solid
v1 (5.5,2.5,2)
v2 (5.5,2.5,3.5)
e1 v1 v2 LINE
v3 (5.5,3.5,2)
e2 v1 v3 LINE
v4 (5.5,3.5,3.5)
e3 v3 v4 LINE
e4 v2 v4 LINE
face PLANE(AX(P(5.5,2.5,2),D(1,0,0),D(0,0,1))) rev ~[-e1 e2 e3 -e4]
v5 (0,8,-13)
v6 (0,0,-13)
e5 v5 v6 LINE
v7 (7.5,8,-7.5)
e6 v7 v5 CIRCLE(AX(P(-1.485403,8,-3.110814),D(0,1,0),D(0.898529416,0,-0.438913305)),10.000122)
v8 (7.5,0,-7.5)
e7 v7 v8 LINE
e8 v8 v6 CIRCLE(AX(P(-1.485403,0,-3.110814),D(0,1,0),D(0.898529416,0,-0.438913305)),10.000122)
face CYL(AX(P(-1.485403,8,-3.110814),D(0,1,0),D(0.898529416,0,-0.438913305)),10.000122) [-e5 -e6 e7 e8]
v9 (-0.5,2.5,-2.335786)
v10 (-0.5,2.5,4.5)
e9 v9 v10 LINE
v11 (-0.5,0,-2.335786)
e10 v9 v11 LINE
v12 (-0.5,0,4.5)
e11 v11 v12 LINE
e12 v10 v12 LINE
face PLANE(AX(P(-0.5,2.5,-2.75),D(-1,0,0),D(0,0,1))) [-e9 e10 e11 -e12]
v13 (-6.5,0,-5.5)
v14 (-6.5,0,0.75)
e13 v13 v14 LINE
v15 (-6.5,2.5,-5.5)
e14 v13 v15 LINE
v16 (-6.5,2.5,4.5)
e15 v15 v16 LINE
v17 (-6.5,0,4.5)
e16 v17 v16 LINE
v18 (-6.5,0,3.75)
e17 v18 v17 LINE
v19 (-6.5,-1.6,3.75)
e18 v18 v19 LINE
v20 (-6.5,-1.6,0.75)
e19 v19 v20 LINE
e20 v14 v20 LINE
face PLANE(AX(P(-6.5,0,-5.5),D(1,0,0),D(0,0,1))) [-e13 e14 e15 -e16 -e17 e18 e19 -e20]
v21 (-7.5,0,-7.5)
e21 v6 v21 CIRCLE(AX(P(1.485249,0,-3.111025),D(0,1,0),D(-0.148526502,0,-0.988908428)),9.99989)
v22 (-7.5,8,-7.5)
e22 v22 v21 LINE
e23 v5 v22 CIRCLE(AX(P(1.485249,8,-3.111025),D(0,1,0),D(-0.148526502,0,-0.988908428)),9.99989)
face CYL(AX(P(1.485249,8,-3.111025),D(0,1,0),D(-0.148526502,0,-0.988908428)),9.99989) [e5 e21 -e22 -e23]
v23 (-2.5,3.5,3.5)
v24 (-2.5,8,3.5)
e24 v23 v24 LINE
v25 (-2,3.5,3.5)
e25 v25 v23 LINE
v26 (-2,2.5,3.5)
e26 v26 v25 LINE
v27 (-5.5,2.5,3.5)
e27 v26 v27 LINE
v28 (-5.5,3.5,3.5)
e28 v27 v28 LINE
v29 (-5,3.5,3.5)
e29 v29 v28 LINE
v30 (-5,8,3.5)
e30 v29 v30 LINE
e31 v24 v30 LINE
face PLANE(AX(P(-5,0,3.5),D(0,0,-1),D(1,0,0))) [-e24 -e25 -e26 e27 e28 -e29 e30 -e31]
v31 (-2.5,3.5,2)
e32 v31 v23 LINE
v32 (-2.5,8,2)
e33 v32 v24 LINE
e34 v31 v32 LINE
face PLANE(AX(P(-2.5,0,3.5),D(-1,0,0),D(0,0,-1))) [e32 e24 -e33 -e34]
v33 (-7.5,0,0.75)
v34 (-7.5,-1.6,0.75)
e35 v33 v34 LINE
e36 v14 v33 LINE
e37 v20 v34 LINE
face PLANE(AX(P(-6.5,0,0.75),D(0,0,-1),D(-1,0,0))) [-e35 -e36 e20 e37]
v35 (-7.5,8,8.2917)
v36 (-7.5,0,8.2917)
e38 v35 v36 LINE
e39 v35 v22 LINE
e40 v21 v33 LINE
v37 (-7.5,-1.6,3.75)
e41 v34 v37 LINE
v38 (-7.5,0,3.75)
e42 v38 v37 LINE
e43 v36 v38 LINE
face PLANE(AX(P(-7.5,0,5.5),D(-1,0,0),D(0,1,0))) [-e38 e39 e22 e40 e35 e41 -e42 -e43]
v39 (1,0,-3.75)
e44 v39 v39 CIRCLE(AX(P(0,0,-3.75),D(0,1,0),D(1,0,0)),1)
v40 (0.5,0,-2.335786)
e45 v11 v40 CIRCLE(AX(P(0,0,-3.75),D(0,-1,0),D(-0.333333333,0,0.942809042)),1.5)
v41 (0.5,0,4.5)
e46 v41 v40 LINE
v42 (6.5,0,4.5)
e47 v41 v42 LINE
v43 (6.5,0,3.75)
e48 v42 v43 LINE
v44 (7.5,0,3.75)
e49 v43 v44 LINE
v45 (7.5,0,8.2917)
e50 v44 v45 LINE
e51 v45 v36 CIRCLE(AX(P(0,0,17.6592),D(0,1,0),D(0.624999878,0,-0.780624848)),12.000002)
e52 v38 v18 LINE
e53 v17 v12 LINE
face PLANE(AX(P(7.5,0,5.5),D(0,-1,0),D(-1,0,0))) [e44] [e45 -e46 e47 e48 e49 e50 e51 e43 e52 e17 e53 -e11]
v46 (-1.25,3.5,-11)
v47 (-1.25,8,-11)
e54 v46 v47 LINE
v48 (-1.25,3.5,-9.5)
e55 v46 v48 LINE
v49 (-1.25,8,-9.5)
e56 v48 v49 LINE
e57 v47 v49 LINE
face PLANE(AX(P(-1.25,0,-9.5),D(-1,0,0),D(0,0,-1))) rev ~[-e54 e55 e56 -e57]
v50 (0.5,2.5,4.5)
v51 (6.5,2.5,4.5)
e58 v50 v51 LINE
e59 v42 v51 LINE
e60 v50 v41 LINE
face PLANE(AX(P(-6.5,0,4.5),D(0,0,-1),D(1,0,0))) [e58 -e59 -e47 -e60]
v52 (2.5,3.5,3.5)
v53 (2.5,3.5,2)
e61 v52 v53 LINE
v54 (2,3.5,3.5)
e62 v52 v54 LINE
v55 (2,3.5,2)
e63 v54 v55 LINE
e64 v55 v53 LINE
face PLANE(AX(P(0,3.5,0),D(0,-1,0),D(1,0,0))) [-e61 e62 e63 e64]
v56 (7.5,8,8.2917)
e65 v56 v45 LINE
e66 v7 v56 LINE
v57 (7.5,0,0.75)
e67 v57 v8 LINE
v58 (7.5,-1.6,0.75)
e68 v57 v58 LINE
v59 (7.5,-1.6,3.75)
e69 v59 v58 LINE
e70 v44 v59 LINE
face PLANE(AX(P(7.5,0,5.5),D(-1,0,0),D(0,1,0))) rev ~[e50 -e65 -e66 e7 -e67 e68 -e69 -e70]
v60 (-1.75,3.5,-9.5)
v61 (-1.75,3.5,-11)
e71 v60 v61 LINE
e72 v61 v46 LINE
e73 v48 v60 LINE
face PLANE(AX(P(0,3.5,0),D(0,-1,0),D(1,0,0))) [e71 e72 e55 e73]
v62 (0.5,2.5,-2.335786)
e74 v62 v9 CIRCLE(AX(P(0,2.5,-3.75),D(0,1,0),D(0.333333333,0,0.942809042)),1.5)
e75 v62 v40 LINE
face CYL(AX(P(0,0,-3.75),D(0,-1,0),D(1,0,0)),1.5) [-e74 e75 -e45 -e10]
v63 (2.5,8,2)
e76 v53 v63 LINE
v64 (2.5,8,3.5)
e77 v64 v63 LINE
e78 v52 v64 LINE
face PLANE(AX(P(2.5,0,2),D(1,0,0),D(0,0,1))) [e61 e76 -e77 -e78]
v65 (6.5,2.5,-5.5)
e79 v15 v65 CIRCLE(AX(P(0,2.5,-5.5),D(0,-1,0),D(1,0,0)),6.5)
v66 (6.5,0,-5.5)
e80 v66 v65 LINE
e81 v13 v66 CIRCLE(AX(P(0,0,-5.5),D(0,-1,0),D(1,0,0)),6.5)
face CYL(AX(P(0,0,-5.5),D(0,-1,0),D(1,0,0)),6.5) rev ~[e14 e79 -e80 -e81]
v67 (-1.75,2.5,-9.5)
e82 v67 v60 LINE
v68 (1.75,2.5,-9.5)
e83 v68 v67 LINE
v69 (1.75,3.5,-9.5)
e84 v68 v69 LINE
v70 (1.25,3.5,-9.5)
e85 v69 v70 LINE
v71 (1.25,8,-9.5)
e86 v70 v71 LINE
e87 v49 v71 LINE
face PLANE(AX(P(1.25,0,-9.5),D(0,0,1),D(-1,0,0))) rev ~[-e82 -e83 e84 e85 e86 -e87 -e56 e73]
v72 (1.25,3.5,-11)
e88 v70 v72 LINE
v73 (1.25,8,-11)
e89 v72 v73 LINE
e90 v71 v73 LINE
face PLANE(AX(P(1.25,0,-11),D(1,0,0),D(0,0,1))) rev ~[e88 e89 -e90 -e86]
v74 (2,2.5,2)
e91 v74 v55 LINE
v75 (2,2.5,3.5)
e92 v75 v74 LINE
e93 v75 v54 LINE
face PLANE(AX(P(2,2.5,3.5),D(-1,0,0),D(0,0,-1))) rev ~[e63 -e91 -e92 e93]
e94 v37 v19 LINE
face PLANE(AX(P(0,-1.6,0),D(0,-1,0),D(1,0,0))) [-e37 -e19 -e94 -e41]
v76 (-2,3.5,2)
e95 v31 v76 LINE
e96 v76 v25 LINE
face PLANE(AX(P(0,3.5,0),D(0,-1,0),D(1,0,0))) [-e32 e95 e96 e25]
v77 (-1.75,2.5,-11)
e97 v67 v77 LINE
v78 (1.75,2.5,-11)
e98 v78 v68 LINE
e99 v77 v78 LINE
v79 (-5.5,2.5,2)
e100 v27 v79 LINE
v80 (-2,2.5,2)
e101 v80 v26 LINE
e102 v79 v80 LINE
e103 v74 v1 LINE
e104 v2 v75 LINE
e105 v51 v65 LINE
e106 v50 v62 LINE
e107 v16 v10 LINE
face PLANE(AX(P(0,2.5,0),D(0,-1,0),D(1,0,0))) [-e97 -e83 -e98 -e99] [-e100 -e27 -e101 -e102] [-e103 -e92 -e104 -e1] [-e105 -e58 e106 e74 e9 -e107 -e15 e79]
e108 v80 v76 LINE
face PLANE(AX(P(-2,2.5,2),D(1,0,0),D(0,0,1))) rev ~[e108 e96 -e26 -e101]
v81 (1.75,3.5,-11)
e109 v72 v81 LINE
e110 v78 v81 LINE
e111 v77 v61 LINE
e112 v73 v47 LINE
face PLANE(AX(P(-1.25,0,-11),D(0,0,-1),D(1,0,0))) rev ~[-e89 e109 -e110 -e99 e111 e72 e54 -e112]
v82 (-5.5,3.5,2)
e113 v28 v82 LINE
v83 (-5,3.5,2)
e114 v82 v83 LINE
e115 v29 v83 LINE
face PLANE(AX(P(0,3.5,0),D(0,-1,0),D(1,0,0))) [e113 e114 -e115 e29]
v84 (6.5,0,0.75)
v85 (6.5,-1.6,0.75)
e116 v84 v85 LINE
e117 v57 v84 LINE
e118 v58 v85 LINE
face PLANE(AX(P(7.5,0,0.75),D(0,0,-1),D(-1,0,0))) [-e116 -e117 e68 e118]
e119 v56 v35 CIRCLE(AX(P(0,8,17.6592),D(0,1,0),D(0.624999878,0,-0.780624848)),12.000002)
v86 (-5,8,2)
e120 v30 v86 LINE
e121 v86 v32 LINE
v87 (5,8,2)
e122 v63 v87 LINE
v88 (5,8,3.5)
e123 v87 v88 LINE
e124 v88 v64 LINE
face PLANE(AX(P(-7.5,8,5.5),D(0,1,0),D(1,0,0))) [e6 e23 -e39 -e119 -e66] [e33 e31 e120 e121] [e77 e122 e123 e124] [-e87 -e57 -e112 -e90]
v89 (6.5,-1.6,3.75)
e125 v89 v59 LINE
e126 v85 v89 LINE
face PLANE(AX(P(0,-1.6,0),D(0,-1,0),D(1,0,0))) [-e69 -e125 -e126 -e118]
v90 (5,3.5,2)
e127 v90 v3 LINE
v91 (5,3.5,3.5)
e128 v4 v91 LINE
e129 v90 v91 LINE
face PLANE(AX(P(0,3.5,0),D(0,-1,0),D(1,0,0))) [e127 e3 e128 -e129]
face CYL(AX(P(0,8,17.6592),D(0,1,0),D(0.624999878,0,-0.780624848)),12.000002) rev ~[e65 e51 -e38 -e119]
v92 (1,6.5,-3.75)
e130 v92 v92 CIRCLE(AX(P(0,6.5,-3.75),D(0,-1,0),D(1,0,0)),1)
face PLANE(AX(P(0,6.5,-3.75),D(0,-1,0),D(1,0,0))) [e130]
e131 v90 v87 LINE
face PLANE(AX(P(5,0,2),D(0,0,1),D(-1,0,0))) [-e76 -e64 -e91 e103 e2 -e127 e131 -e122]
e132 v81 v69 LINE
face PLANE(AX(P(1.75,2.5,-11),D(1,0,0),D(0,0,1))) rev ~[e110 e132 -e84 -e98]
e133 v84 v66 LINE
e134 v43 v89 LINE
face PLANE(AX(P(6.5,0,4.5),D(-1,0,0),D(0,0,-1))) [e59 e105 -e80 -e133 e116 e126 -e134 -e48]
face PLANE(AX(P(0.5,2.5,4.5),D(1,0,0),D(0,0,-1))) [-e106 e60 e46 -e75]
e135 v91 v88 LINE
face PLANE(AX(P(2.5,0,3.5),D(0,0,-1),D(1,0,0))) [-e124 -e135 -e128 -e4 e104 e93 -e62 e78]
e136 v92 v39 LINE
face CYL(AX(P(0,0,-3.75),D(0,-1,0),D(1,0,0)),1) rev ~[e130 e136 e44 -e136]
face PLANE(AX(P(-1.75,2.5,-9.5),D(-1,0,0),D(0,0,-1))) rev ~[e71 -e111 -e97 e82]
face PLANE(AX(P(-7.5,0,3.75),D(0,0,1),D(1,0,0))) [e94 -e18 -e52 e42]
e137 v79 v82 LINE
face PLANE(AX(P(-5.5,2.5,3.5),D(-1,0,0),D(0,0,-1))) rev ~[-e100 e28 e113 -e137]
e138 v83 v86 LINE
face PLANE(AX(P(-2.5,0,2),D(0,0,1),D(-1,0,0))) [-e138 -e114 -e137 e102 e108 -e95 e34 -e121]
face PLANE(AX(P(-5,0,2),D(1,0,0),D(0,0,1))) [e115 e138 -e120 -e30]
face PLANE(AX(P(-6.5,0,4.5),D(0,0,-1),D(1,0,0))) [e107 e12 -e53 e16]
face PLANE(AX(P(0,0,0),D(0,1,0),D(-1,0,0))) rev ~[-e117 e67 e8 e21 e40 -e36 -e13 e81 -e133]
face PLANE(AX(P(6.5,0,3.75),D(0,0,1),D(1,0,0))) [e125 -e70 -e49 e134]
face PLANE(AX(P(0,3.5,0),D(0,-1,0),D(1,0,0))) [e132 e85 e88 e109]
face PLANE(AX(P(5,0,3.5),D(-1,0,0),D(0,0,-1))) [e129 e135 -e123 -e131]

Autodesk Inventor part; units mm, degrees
ref_plane "YZ Plane" through (0, 0, 0) normal (1, 0, 0) x (0, 1, 0)
ref_plane "XZ Plane" through (0, 0, 0) normal (0, 1, 0) x (-1, 0, 0)
ref_plane "XY Plane" through (0, 0, 0) normal (0, 0, 1) x (1, 0, 0)
sketch "Sketch1" plane through (0, 0, 0) normal (0, 1, 0) x (-1, 0, 0)
  line L0 (-7.5, 5.5) -> (7.5, 5.5)
  line L1 (7.5, 5.5) -> (7.5, -5.5)
  line L2 (7.5, -5.5) -> (-7.5, -5.5)
  line L3 (-7.5, -5.5) -> (-7.5, 5.5)
  line L4 (-7.5, 5.5) -> (7.5, -5.5) construction
  line L5 (7.5, 5.5) -> (-7.5, -5.5) construction
  circle A0 centre (0, -5.5) radius 7.5 construction
  arc A1 (-7.5, -5.5) -> (7.5, -5.5) centre (0, -5.5) ccw
  point P0 (0, 0)
  dimension "d0" = 11
  dimension "d1" = 15
extrude "Extrusion1" add sketch "Sketch1" along normal blind 8
sketch "Sketch2" plane through (0, 0, 0) normal (0, -1, 0) x (1, 0, 0)
  line L0 (7.5, 9.25) -> (-7.5, 9.25)
  line L1 (-7.5, 9.25) -> (-7.5, -20.75)
  line L2 (-7.5, -20.75) -> (7.5, -20.75)
  line L3 (7.5, -20.75) -> (7.5, 9.25)
  line L4 (7.5, 9.25) -> (-7.5, -20.75) construction
  line L5 (-7.5, 9.25) -> (7.5, -20.75) construction
  line L6 (-7.5, 5.5) -> (7.5, 5.5) projected
  line L7 (7, 8.75) -> (-7, 8.75) construction
  line L8 (-7, 8.75) -> (-7, -20.25) construction
  line L9 (-7, -20.25) -> (7, -20.25) construction
  line L10 (7, -20.25) -> (7, 8.75) construction
  line L11 (7, 8.75) -> (-7, -20.25) construction
  line L12 (-7, 8.75) -> (7, -20.25) construction
  point P0 (0, 0)
  point P1 (0, -5.75)
  dimension "d4" = 15
  dimension "d5" = 30
  dimension "d6" = 3.75
  dimension "d18" = 0.5
  dimension "d19" = 0.5
sketch "Sketch4" plane through (0, 0, 0) normal (0, -1, 0) x (1, 0, 0)
  line L0 (-7.5, -5.5) -> (-7.5, 5.5) projected
  line L1 (-7.5, 3.75) -> (-6.5, 3.75)
  line L2 (-6.5, 3.75) -> (-6.5, 0.75)
  line L3 (-6.5, 0.75) -> (-7.5, 0.75)
  line L4 (-7.5, 0.75) -> (-7.5, 3.75)
  line L5 (7.5, 5.5) -> (7.5, -5.5) projected
  line L6 (7.5, 0.75) -> (6.5, 0.75)
  line L7 (6.5, 0.75) -> (6.5, 3.75)
  line L8 (6.5, 3.75) -> (7.5, 3.75)
  line L9 (7.5, 3.75) -> (7.5, 0.75)
  line L10 (-7.5, -20.25) -> (7.5, -20.25) construction
  line L11 (7.5, -20.25) -> (7.5, 9.75) construction
  line L12 (7.5, 9.75) -> (-7.5, 9.75) construction
  line L13 (-7.5, 9.75) -> (-7.5, -20.25) construction
  line L14 (-7.5, -20.25) -> (7.5, 9.75) construction
  line L15 (7.5, -20.25) -> (-7.5, 9.75) construction
  line L16 (-7.5, 5.5) -> (7.5, 5.5) construction
  arc A0 (-7.5, -5.5) -> (7.5, -5.5) centre (0, -5.5) ccw construction
  point P0 (0, 0)
  point P1 (0, -5.25)
  point P2 (0, -13)
  point P3 (-7, 3.75)
  point P4 (-7.5, 0.75)
  point P5 (-7, 0.75)
  point P6 (7.5, 3.75)
  point P7 (-7.5, 0.75)
  dimension "d20" = 1
  dimension "d21" = 3
  dimension "d22" = 1
  dimension "d23" = 3
  dimension "d24" = 15
  dimension "d25" = 30
  dimension "d27" = 7.25
  dimension "d106" = 0.75
extrude "Extrusion3" add sketch "Sketch4" along normal blind 1.6
sketch "Sketch6" plane through (0, 0, 0) normal (0, -1, 0) x (1, 0, 0)
  line L0 (7.5, 11.25) -> (-7.5, 11.25)
  line L1 (-7.5, 11.25) -> (-7.5, -18.75)
  line L2 (-7.5, -18.75) -> (7.5, -18.75)
  line L3 (7.5, -18.75) -> (7.5, 11.25)
  line L4 (7.5, 11.25) -> (-7.5, -18.75) construction
  line L5 (-7.5, 11.25) -> (7.5, -18.75) construction
  line L6 (7, 10.75) -> (-7, 10.75) construction
  line L7 (-7, 10.75) -> (-7, -18.25) construction
  line L8 (-7, -18.25) -> (7, -18.25) construction
  line L9 (7, -18.25) -> (7, 10.75) construction
  line L10 (7, 10.75) -> (-7, -18.25) construction
  line L11 (-7, 10.75) -> (7, -18.25) construction
  circle A0 centre (0, -3.75) radius 1
  circle A1 centre (0, -3.75) radius 1.5
  line L12 (-6.5, 4.5) -> (6.5, 4.5)
  line L13 (6.5, 4.5) -> (6.5, -5.5)
  line L14 (6.5, -5.5) -> (-6.5, -5.5)
  line L15 (-6.5, -5.5) -> (-6.5, 4.5)
  line L16 (-7.5, 5.5) -> (7.5, 5.5) projected
  arc A2 (-7.5, -5.5) -> (7.5, -5.5) centre (0, -5.5) ccw projected
  circle A3 centre (0, -5.5) radius 6.5
  point P0 (0, 0)
  point P1 (-7.5, -3.75)
  point P2 (6.5, -5.5)
  dimension "d31" = 15
  dimension "d32" = 30
  dimension "d34" = 0.5
  dimension "d35" = 0.5
  dimension "d36" = 2
  dimension "d37" = 0.5
  dimension "d38" = 1
  dimension "d39" = 1
  dimension "d40" = 1
  dimension "d41" = 1
  dimension "d107" = 3.75
extrude "Extrusion4" cut sketch "Sketch6" against normal blind 2.5 contours A0 | L12 L13 A3 L15 | A3 L14 | L14 A3
sketch "Sketch10" plane through (0, 8, 0) normal (0, 1, 0) x (1, 0, 0)
  point P0 (0, 0)
sketch "Sketch11" plane through (0, 0, 0) normal (0, -1, 0) x (1, 0, 0)
  line L0 (-5, 3.5) -> (-2.5, 3.5)
  line L1 (-2.5, 3.5) -> (-2.5, 2)
  line L2 (-2.5, 2) -> (-5, 2)
  line L3 (-5, 2) -> (-5, 3.5)
  line L4 (2.5, 3.5) -> (5, 3.5)
  line L5 (5, 3.5) -> (5, 2)
  line L6 (5, 2) -> (2.5, 2)
  line L7 (2.5, 2) -> (2.5, 3.5)
  line L8 (-6.5, 3.75) -> (-7.5, 3.75) projected
  line L9 (-6.5, 0.75) -> (-6.5, 3.75) projected
  line L10 (6.5, 3.75) -> (6.5, 0.75) projected
  line L11 (-6.5, 4.5) -> (6.5, 4.5) projected
  line L12 (-1.25, -11) -> (1.25, -11)
  line L13 (1.25, -11) -> (1.25, -9.5)
  line L14 (1.25, -9.5) -> (-1.25, -9.5)
  line L15 (-1.25, -9.5) -> (-1.25, -11)
  circle A0 centre (0, -3.75) radius 1 projected
  point P0 (0, 0)
  point P1 (-3.75, 3.5)
  point P2 (3.75, 3.5)
  point P3 (1.25, -10.25)
  point P4 (2.5, 2.75)
  point P5 (0, -9.5)
  point P6 (3.75, 2)
  point P7 (-2.5, 2.75)
  dimension "d51" = 2.5
  dimension "d52" = 1.5
  dimension "d55" = 2.75
  dimension "d56" = 2.75
  dimension "d60" = 13
  dimension "d61" = 3.75
  dimension "d62" = 3.75
  dimension "d103" = 6.5
  dimension "d104" = 6.5
extrude "Extrusion8" cut sketch "Sketch11" against normal blind 10 contours L0 L1 L2 L3 | L4 L5 L6 L7 | L15 L14 L13 L12
sketch "Sketch12" plane through (0, 2.5, 0) normal (0, -1, 0) x (1, 0, 0)
  line L0 (5, 2) -> (5, 3.5) construction
  line L1 (2.5, 2) -> (5, 2) construction
  line L2 (5, 3.5) -> (2.5, 3.5) construction
  line L3 (2.5, 3.5) -> (2.5, 2) construction
  line L4 (2.5, 2) -> (5, 2) construction
  line L5 (5, 2) -> (5, 3.5) construction
  line L6 (-2.5, 2) -> (-2.5, 3.5) construction
  line L7 (-2.5, 2) -> (-5, 2) construction
  line L8 (-2.5, 3.5) -> (-5, 3.5) construction
  line L9 (-5, 3.5) -> (-5, 2) construction
  line L10 (-5, 2) -> (-2.5, 2) construction
  line L11 (-2.5, 2) -> (-2.5, 3.5) construction
  line L12 (-1.25, -9.5) -> (1.25, -9.5) construction
  line L13 (-1.25, -9.5) -> (-1.25, -11) construction
  line L14 (1.25, -9.5) -> (-1.25, -9.5) construction
  line L15 (-1.25, -9.5) -> (-1.25, -11) construction
  line L16 (-1.25, -11) -> (1.25, -11) construction
  line L17 (1.25, -11) -> (1.25, -9.5) construction
  line L18 (5.5, 3.5) -> (2, 3.5)
  line L19 (2, 3.5) -> (2, 2)
  line L20 (2, 2) -> (5.5, 2)
  line L21 (5.5, 2) -> (5.5, 3.5)
  line L22 (1.75, -9.5) -> (-1.75, -9.5)
  line L23 (-1.75, -9.5) -> (-1.75, -11)
  line L24 (-1.75, -11) -> (1.75, -11)
  line L25 (1.75, -11) -> (1.75, -9.5)
  line L26 (-2, 3.5) -> (-5.5, 3.5)
  line L27 (-5.5, 3.5) -> (-5.5, 2)
  line L28 (-5.5, 2) -> (-2, 2)
  line L29 (-2, 2) -> (-2, 3.5)
  point P0 (0, 0)
  point P1 (-2.5, 2.75)
  point P2 (-2, 2.75)
  point P3 (-3.75, 2)
  point P4 (-3.75, 2)
  point P5 (-3.75, 3.5)
  point P6 (-3.75, 3.5)
  point P7 (-5, 2.75)
  point P8 (-5.5, 2.75)
  point P9 (1.25, -10.25)
  point P10 (1.75, -10.25)
  point P11 (0, -11)
  point P12 (-1.25, -10.25)
  dimension "d63" = 0.5
  dimension "d64" = 0
  dimension "d65" = 0
  dimension "d67" = 0.5
  dimension "d68" = 0
  dimension "d69" = 0
  dimension "d70" = 0.5
  dimension "d71" = 0.5
  dimension "d72" = 0
  dimension "d73" = 0
  dimension "d74" = 0.5
  dimension "d96" = 0.5
extrude "Extrusion9" cut sketch "Sketch12" against normal blind 1
sketch "Sketch16" plane through (0, 2.5, 0) normal (0, -1, 0) x (1, 0, 0)
  line L0 (-6.5, -5.5) -> (-6.5, 4.5) construction
  line L1 (-6.5, 4.5) -> (6.5, 4.5) construction
  line L2 (-6.5, 4.5) -> (6.5, 4.5) construction
  line L3 (-0.5, 4.5) -> (0.5, 4.5)
  line L4 (0.5, 4.5) -> (0.5, -2.75)
  line L5 (0.5, -2.75) -> (-0.5, -2.75)
  line L6 (-0.5, -2.75) -> (-0.5, 4.5)
  circle A0 centre (0, -3.75) radius 1.5 construction
  circle A1 centre (0, -3.75) radius 1.75 construction
  line L7 (-6.5, -2.75) -> (6.5174, -2.75) construction
  circle A2 centre (0, -3.75) radius 1.5 construction
  circle A3 centre (0, -3.75) radius 1 construction
  line L8 (6.5, 0.75) -> (6.5, -5.5) projected
  line L9 (-6.5, -5.873) -> (6.5, -5.873)
  line L10 (6.5, -5.873) -> (6.5, -6.873)
  line L11 (6.5, -6.873) -> (-6.5, -6.873)
  line L12 (-6.5, -6.873) -> (-6.5, -5.873)
  point P0 (0, 0)
  point P1 (0, 4.5)
  point P2 (0.0087, -2.75)
  dimension "d94" = 1
  dimension "d95" = 1
extrude "Extrusion10" add sketch "Sketch16" along normal blind 2.5 contours L3 L4 L5 L6
sketch "Sketch19" plane through (-7.5, 0, 5.5) normal (0, 0, 1) x (1, 0, 0)
  line L0 (15, 0) -> (15, 8) projected
  line L1 (0, 8) -> (15, 8)
  line L2 (15, 8) -> (15, 0)
  line L3 (15, 0) -> (0, 0)
  line L4 (0, 0) -> (0, 8)
  point P0 (7.5, 0)
extrude "Extrusion13" add sketch "Sketch19" along normal blind 6
sketch "Sketch18" plane through (0, 8, 0) normal (0, 1, 0) x (1, 0, 0)
  line L0 (-7.5, -3.75) -> (-7.5, -5.5) projected
  line L1 (-7.5, -5.5) -> (-7.5, -8.2917)
  line L2 (7.5, -5.5) -> (7.5, -8.2917)
  arc A0 (7.5, -8.2917) -> (-7.5, -8.2917) centre (0, -17.6592) ccw
  line L3 (-7.5, -5.5) -> (0, -3.75)
  line L4 (-7.5, -5.5) -> (7.5, -5.5) projected
  line L5 (0, -3.75) -> (7.5, -5.5)
  line L6 (-7.5, -8.2917) -> (-7.5, -17.8663)
  line L7 (-7.5, -17.8663) -> (8.2387, -17.8663)
  line L8 (8.2387, -17.8663) -> (7.5, -8.2917)
  line L9 (-7.5, -8.2917) -> (-7.5, -5.5)
  point P0 (0, 0)
  point P1 (3.395, -5.5)
  point P2 (-3.395, -5.5)
  dimension "d108" = 12
extrude "Extrusion12" cut sketch "Sketch18" against normal blind 8 contours A0 L8 L7 L6
sketch "Sketch21" plane through (0, 8, 0) normal (0, 1, 0) x (1, 0, 0)
  line L0 (-7.5, 5.5) -> (-7.5, -8.2917) projected
  line L1 (-7.5, 5.5) -> (-4.5586, 5.5)
  line L2 (-4.5586, 5.5) -> (-4.5586, 13.4633)
  line L3 (-4.5586, 13.4633) -> (-7.5, 13.4633)
  line L4 (-7.5, 13.4633) -> (-7.5, 5.5)
  arc A0 (7.5, 5.5) -> (-7.5, 5.5) centre (0, 5.5) ccw projected
  line L5 (7.5, 5.5) -> (3.8632, 5.5)
  line L6 (3.8632, 5.5) -> (3.8632, 13.1156)
  line L7 (3.8632, 13.1156) -> (7.5, 13.1156)
  line L8 (7.5, 13.1156) -> (7.5, 5.5)
  point P0 (0, 0)
  point P1 (3.8632, 11.9285)
  point P2 (-4.5586, 11.4556)
  point P3 (-7.5, -5.5)
extrude "Extrusion15" add sketch "Sketch21" against normal blind 8 contours L6 L7 L8 A0 | L4 L3 L2 A0
sketch "Sketch20" plane through (0, 8, 0) normal (0, 1, 0) x (1, 0, 0)
  arc A0 (7.5, 5.5) -> (-7.5, 5.5) centre (0, 5.5) ccw projected
  line L0 (-7.5, 5.5) -> (-7.5, 7.5)
  line L1 (7.5, 5.5) -> (7.5, 7.5)
  arc A1 (0, 13) -> (-7.5, 7.5) centre (1.4853, 3.1109) ccw
  arc A2 (7.5, 7.5) -> (0, 13) centre (-1.4853, 3.1109) ccw
  line L2 (-7.5, 7.5) -> (-7.5, 19.3065)
  line L3 (-7.5, 7.5) -> (4.3065, 7.5) construction
  line L4 (-7.5, 19.3065) -> (7.5, 19.3065)
  line L5 (7.5, 19.3065) -> (7.5, 7.5)
  point P0 (0, 0)
  point P1 (-6.7259, 8.8184)
  point P2 (6.7259, 8.8184)
  dimension "d113" = 2
  dimension "d114" = 10
  dimension "d115" = 90
  dimension "d116" = 90
extrude "Extrusion14" cut sketch "Sketch20" against normal blind 10 contours A2 A0 | A0 A1 L2 L4 L5 A2 | A1 A0
sketch "Sketch23" plane through (0, 2.5, -3.75) normal (0, -1, 0) x (1, 0, 0)
  circle A0 centre (0, 0) radius 1 projected
  circle A1 centre (0, 0) radius 1
  point P0 (0, 3.75)
extrude "Extrusion17" cut sketch "Sketch23" against normal blind 4
sketch "Sketch22" plane through (0, 8, 0) normal (0, 1, 0) x (1, 0, 0)
  line L0 (7.5, 7.5) -> (7.5, -8.2917) projected
  line L1 (-7.5, 7.5) -> (-7.5, -8.2917) projected
  arc A0 (7.5, -7.2917) -> (-7.5, -7.2917) centre (0, -16.6592) ccw
  line L2 (-7.5, -7.2917) -> (7.5, -7.2917) construction
  line L3 (-7.5, -7.2917) -> (7.5, -7.2917) construction
  arc A1 (7.5, -8.2917) -> (-7.5, -8.2917) centre (0, -17.6592) ccw projected
  arc A2 (7.5, -6.2917) -> (-7.5, -6.2917) centre (0, -15.6592) ccw
  line L4 (-7.5, -6.2917) -> (7.5, -6.2917) construction
  line L5 (-7.5, -6.2917) -> (7.5, -6.2917) construction
  point P0 (0, 0)
  point P1 (0, -4.6592)
  point P2 (0, -5.6592)
  point P3 (0, -3.6592)
  dimension "d121" = 0
  dimension "d122" = 1
  dimension "d123" = 1
  dimension "d124" = 0
  dimension "d125" = 1
  dimension "d126" = 1
sketch "Sketch14" plane through (0, 2.5, 0) normal (0, -1, 0) x (1, 0, 0)
  line L0 (5, 2.75) -> (2.5, 2.75) construction
  line L1 (2.5, 2.75) -> (2.5, 1.25) construction
  line L2 (2.5, 1.25) -> (5, 1.25) construction
  line L3 (5, 1.25) -> (5, 2.75) construction
  line L4 (5.5, 3.25) -> (2, 3.25)
  line L5 (2, 3.25) -> (2, 0.75)
  line L6 (2, 0.75) -> (5.5, 0.75)
  line L7 (5.5, 0.75) -> (5.5, 3.25)
  dimension "d86" = 0.5
  dimension "d87" = 0.5
sketch "Sketch15" plane through (0, 3.5, 0) normal (0, -1, 0) x (1, 0, 0)
  line L0 (5, 2.75) -> (2.5, 2.75)
  line L1 (2.5, 2.75) -> (2.5, 1.25)
  line L2 (2.5, 1.25) -> (5, 1.25)
  line L3 (5, 1.25) -> (5, 2.75)
  point P0 (0, 0)
sketch "Sketch8" plane through (0, 0, -3.75) normal (0, -1, 0) x (1, 0, 0)
  circle A0 centre (0, 0) radius 1.75
  circle A1 centre (0, 0) radius 1.5 projected
  circle A2 centre (0, 0) radius 1.5
  point P0 (0, 3.75)
  dimension "d46" = 0.25
sketch "Sketch7" plane through (0, 2.5, -3.75) normal (0, -1, 0) x (1, 0, 0)
  circle A0 centre (0, 0) radius 1.25
  point P0 (0, 3.75)
properties part number "ORGATE"
